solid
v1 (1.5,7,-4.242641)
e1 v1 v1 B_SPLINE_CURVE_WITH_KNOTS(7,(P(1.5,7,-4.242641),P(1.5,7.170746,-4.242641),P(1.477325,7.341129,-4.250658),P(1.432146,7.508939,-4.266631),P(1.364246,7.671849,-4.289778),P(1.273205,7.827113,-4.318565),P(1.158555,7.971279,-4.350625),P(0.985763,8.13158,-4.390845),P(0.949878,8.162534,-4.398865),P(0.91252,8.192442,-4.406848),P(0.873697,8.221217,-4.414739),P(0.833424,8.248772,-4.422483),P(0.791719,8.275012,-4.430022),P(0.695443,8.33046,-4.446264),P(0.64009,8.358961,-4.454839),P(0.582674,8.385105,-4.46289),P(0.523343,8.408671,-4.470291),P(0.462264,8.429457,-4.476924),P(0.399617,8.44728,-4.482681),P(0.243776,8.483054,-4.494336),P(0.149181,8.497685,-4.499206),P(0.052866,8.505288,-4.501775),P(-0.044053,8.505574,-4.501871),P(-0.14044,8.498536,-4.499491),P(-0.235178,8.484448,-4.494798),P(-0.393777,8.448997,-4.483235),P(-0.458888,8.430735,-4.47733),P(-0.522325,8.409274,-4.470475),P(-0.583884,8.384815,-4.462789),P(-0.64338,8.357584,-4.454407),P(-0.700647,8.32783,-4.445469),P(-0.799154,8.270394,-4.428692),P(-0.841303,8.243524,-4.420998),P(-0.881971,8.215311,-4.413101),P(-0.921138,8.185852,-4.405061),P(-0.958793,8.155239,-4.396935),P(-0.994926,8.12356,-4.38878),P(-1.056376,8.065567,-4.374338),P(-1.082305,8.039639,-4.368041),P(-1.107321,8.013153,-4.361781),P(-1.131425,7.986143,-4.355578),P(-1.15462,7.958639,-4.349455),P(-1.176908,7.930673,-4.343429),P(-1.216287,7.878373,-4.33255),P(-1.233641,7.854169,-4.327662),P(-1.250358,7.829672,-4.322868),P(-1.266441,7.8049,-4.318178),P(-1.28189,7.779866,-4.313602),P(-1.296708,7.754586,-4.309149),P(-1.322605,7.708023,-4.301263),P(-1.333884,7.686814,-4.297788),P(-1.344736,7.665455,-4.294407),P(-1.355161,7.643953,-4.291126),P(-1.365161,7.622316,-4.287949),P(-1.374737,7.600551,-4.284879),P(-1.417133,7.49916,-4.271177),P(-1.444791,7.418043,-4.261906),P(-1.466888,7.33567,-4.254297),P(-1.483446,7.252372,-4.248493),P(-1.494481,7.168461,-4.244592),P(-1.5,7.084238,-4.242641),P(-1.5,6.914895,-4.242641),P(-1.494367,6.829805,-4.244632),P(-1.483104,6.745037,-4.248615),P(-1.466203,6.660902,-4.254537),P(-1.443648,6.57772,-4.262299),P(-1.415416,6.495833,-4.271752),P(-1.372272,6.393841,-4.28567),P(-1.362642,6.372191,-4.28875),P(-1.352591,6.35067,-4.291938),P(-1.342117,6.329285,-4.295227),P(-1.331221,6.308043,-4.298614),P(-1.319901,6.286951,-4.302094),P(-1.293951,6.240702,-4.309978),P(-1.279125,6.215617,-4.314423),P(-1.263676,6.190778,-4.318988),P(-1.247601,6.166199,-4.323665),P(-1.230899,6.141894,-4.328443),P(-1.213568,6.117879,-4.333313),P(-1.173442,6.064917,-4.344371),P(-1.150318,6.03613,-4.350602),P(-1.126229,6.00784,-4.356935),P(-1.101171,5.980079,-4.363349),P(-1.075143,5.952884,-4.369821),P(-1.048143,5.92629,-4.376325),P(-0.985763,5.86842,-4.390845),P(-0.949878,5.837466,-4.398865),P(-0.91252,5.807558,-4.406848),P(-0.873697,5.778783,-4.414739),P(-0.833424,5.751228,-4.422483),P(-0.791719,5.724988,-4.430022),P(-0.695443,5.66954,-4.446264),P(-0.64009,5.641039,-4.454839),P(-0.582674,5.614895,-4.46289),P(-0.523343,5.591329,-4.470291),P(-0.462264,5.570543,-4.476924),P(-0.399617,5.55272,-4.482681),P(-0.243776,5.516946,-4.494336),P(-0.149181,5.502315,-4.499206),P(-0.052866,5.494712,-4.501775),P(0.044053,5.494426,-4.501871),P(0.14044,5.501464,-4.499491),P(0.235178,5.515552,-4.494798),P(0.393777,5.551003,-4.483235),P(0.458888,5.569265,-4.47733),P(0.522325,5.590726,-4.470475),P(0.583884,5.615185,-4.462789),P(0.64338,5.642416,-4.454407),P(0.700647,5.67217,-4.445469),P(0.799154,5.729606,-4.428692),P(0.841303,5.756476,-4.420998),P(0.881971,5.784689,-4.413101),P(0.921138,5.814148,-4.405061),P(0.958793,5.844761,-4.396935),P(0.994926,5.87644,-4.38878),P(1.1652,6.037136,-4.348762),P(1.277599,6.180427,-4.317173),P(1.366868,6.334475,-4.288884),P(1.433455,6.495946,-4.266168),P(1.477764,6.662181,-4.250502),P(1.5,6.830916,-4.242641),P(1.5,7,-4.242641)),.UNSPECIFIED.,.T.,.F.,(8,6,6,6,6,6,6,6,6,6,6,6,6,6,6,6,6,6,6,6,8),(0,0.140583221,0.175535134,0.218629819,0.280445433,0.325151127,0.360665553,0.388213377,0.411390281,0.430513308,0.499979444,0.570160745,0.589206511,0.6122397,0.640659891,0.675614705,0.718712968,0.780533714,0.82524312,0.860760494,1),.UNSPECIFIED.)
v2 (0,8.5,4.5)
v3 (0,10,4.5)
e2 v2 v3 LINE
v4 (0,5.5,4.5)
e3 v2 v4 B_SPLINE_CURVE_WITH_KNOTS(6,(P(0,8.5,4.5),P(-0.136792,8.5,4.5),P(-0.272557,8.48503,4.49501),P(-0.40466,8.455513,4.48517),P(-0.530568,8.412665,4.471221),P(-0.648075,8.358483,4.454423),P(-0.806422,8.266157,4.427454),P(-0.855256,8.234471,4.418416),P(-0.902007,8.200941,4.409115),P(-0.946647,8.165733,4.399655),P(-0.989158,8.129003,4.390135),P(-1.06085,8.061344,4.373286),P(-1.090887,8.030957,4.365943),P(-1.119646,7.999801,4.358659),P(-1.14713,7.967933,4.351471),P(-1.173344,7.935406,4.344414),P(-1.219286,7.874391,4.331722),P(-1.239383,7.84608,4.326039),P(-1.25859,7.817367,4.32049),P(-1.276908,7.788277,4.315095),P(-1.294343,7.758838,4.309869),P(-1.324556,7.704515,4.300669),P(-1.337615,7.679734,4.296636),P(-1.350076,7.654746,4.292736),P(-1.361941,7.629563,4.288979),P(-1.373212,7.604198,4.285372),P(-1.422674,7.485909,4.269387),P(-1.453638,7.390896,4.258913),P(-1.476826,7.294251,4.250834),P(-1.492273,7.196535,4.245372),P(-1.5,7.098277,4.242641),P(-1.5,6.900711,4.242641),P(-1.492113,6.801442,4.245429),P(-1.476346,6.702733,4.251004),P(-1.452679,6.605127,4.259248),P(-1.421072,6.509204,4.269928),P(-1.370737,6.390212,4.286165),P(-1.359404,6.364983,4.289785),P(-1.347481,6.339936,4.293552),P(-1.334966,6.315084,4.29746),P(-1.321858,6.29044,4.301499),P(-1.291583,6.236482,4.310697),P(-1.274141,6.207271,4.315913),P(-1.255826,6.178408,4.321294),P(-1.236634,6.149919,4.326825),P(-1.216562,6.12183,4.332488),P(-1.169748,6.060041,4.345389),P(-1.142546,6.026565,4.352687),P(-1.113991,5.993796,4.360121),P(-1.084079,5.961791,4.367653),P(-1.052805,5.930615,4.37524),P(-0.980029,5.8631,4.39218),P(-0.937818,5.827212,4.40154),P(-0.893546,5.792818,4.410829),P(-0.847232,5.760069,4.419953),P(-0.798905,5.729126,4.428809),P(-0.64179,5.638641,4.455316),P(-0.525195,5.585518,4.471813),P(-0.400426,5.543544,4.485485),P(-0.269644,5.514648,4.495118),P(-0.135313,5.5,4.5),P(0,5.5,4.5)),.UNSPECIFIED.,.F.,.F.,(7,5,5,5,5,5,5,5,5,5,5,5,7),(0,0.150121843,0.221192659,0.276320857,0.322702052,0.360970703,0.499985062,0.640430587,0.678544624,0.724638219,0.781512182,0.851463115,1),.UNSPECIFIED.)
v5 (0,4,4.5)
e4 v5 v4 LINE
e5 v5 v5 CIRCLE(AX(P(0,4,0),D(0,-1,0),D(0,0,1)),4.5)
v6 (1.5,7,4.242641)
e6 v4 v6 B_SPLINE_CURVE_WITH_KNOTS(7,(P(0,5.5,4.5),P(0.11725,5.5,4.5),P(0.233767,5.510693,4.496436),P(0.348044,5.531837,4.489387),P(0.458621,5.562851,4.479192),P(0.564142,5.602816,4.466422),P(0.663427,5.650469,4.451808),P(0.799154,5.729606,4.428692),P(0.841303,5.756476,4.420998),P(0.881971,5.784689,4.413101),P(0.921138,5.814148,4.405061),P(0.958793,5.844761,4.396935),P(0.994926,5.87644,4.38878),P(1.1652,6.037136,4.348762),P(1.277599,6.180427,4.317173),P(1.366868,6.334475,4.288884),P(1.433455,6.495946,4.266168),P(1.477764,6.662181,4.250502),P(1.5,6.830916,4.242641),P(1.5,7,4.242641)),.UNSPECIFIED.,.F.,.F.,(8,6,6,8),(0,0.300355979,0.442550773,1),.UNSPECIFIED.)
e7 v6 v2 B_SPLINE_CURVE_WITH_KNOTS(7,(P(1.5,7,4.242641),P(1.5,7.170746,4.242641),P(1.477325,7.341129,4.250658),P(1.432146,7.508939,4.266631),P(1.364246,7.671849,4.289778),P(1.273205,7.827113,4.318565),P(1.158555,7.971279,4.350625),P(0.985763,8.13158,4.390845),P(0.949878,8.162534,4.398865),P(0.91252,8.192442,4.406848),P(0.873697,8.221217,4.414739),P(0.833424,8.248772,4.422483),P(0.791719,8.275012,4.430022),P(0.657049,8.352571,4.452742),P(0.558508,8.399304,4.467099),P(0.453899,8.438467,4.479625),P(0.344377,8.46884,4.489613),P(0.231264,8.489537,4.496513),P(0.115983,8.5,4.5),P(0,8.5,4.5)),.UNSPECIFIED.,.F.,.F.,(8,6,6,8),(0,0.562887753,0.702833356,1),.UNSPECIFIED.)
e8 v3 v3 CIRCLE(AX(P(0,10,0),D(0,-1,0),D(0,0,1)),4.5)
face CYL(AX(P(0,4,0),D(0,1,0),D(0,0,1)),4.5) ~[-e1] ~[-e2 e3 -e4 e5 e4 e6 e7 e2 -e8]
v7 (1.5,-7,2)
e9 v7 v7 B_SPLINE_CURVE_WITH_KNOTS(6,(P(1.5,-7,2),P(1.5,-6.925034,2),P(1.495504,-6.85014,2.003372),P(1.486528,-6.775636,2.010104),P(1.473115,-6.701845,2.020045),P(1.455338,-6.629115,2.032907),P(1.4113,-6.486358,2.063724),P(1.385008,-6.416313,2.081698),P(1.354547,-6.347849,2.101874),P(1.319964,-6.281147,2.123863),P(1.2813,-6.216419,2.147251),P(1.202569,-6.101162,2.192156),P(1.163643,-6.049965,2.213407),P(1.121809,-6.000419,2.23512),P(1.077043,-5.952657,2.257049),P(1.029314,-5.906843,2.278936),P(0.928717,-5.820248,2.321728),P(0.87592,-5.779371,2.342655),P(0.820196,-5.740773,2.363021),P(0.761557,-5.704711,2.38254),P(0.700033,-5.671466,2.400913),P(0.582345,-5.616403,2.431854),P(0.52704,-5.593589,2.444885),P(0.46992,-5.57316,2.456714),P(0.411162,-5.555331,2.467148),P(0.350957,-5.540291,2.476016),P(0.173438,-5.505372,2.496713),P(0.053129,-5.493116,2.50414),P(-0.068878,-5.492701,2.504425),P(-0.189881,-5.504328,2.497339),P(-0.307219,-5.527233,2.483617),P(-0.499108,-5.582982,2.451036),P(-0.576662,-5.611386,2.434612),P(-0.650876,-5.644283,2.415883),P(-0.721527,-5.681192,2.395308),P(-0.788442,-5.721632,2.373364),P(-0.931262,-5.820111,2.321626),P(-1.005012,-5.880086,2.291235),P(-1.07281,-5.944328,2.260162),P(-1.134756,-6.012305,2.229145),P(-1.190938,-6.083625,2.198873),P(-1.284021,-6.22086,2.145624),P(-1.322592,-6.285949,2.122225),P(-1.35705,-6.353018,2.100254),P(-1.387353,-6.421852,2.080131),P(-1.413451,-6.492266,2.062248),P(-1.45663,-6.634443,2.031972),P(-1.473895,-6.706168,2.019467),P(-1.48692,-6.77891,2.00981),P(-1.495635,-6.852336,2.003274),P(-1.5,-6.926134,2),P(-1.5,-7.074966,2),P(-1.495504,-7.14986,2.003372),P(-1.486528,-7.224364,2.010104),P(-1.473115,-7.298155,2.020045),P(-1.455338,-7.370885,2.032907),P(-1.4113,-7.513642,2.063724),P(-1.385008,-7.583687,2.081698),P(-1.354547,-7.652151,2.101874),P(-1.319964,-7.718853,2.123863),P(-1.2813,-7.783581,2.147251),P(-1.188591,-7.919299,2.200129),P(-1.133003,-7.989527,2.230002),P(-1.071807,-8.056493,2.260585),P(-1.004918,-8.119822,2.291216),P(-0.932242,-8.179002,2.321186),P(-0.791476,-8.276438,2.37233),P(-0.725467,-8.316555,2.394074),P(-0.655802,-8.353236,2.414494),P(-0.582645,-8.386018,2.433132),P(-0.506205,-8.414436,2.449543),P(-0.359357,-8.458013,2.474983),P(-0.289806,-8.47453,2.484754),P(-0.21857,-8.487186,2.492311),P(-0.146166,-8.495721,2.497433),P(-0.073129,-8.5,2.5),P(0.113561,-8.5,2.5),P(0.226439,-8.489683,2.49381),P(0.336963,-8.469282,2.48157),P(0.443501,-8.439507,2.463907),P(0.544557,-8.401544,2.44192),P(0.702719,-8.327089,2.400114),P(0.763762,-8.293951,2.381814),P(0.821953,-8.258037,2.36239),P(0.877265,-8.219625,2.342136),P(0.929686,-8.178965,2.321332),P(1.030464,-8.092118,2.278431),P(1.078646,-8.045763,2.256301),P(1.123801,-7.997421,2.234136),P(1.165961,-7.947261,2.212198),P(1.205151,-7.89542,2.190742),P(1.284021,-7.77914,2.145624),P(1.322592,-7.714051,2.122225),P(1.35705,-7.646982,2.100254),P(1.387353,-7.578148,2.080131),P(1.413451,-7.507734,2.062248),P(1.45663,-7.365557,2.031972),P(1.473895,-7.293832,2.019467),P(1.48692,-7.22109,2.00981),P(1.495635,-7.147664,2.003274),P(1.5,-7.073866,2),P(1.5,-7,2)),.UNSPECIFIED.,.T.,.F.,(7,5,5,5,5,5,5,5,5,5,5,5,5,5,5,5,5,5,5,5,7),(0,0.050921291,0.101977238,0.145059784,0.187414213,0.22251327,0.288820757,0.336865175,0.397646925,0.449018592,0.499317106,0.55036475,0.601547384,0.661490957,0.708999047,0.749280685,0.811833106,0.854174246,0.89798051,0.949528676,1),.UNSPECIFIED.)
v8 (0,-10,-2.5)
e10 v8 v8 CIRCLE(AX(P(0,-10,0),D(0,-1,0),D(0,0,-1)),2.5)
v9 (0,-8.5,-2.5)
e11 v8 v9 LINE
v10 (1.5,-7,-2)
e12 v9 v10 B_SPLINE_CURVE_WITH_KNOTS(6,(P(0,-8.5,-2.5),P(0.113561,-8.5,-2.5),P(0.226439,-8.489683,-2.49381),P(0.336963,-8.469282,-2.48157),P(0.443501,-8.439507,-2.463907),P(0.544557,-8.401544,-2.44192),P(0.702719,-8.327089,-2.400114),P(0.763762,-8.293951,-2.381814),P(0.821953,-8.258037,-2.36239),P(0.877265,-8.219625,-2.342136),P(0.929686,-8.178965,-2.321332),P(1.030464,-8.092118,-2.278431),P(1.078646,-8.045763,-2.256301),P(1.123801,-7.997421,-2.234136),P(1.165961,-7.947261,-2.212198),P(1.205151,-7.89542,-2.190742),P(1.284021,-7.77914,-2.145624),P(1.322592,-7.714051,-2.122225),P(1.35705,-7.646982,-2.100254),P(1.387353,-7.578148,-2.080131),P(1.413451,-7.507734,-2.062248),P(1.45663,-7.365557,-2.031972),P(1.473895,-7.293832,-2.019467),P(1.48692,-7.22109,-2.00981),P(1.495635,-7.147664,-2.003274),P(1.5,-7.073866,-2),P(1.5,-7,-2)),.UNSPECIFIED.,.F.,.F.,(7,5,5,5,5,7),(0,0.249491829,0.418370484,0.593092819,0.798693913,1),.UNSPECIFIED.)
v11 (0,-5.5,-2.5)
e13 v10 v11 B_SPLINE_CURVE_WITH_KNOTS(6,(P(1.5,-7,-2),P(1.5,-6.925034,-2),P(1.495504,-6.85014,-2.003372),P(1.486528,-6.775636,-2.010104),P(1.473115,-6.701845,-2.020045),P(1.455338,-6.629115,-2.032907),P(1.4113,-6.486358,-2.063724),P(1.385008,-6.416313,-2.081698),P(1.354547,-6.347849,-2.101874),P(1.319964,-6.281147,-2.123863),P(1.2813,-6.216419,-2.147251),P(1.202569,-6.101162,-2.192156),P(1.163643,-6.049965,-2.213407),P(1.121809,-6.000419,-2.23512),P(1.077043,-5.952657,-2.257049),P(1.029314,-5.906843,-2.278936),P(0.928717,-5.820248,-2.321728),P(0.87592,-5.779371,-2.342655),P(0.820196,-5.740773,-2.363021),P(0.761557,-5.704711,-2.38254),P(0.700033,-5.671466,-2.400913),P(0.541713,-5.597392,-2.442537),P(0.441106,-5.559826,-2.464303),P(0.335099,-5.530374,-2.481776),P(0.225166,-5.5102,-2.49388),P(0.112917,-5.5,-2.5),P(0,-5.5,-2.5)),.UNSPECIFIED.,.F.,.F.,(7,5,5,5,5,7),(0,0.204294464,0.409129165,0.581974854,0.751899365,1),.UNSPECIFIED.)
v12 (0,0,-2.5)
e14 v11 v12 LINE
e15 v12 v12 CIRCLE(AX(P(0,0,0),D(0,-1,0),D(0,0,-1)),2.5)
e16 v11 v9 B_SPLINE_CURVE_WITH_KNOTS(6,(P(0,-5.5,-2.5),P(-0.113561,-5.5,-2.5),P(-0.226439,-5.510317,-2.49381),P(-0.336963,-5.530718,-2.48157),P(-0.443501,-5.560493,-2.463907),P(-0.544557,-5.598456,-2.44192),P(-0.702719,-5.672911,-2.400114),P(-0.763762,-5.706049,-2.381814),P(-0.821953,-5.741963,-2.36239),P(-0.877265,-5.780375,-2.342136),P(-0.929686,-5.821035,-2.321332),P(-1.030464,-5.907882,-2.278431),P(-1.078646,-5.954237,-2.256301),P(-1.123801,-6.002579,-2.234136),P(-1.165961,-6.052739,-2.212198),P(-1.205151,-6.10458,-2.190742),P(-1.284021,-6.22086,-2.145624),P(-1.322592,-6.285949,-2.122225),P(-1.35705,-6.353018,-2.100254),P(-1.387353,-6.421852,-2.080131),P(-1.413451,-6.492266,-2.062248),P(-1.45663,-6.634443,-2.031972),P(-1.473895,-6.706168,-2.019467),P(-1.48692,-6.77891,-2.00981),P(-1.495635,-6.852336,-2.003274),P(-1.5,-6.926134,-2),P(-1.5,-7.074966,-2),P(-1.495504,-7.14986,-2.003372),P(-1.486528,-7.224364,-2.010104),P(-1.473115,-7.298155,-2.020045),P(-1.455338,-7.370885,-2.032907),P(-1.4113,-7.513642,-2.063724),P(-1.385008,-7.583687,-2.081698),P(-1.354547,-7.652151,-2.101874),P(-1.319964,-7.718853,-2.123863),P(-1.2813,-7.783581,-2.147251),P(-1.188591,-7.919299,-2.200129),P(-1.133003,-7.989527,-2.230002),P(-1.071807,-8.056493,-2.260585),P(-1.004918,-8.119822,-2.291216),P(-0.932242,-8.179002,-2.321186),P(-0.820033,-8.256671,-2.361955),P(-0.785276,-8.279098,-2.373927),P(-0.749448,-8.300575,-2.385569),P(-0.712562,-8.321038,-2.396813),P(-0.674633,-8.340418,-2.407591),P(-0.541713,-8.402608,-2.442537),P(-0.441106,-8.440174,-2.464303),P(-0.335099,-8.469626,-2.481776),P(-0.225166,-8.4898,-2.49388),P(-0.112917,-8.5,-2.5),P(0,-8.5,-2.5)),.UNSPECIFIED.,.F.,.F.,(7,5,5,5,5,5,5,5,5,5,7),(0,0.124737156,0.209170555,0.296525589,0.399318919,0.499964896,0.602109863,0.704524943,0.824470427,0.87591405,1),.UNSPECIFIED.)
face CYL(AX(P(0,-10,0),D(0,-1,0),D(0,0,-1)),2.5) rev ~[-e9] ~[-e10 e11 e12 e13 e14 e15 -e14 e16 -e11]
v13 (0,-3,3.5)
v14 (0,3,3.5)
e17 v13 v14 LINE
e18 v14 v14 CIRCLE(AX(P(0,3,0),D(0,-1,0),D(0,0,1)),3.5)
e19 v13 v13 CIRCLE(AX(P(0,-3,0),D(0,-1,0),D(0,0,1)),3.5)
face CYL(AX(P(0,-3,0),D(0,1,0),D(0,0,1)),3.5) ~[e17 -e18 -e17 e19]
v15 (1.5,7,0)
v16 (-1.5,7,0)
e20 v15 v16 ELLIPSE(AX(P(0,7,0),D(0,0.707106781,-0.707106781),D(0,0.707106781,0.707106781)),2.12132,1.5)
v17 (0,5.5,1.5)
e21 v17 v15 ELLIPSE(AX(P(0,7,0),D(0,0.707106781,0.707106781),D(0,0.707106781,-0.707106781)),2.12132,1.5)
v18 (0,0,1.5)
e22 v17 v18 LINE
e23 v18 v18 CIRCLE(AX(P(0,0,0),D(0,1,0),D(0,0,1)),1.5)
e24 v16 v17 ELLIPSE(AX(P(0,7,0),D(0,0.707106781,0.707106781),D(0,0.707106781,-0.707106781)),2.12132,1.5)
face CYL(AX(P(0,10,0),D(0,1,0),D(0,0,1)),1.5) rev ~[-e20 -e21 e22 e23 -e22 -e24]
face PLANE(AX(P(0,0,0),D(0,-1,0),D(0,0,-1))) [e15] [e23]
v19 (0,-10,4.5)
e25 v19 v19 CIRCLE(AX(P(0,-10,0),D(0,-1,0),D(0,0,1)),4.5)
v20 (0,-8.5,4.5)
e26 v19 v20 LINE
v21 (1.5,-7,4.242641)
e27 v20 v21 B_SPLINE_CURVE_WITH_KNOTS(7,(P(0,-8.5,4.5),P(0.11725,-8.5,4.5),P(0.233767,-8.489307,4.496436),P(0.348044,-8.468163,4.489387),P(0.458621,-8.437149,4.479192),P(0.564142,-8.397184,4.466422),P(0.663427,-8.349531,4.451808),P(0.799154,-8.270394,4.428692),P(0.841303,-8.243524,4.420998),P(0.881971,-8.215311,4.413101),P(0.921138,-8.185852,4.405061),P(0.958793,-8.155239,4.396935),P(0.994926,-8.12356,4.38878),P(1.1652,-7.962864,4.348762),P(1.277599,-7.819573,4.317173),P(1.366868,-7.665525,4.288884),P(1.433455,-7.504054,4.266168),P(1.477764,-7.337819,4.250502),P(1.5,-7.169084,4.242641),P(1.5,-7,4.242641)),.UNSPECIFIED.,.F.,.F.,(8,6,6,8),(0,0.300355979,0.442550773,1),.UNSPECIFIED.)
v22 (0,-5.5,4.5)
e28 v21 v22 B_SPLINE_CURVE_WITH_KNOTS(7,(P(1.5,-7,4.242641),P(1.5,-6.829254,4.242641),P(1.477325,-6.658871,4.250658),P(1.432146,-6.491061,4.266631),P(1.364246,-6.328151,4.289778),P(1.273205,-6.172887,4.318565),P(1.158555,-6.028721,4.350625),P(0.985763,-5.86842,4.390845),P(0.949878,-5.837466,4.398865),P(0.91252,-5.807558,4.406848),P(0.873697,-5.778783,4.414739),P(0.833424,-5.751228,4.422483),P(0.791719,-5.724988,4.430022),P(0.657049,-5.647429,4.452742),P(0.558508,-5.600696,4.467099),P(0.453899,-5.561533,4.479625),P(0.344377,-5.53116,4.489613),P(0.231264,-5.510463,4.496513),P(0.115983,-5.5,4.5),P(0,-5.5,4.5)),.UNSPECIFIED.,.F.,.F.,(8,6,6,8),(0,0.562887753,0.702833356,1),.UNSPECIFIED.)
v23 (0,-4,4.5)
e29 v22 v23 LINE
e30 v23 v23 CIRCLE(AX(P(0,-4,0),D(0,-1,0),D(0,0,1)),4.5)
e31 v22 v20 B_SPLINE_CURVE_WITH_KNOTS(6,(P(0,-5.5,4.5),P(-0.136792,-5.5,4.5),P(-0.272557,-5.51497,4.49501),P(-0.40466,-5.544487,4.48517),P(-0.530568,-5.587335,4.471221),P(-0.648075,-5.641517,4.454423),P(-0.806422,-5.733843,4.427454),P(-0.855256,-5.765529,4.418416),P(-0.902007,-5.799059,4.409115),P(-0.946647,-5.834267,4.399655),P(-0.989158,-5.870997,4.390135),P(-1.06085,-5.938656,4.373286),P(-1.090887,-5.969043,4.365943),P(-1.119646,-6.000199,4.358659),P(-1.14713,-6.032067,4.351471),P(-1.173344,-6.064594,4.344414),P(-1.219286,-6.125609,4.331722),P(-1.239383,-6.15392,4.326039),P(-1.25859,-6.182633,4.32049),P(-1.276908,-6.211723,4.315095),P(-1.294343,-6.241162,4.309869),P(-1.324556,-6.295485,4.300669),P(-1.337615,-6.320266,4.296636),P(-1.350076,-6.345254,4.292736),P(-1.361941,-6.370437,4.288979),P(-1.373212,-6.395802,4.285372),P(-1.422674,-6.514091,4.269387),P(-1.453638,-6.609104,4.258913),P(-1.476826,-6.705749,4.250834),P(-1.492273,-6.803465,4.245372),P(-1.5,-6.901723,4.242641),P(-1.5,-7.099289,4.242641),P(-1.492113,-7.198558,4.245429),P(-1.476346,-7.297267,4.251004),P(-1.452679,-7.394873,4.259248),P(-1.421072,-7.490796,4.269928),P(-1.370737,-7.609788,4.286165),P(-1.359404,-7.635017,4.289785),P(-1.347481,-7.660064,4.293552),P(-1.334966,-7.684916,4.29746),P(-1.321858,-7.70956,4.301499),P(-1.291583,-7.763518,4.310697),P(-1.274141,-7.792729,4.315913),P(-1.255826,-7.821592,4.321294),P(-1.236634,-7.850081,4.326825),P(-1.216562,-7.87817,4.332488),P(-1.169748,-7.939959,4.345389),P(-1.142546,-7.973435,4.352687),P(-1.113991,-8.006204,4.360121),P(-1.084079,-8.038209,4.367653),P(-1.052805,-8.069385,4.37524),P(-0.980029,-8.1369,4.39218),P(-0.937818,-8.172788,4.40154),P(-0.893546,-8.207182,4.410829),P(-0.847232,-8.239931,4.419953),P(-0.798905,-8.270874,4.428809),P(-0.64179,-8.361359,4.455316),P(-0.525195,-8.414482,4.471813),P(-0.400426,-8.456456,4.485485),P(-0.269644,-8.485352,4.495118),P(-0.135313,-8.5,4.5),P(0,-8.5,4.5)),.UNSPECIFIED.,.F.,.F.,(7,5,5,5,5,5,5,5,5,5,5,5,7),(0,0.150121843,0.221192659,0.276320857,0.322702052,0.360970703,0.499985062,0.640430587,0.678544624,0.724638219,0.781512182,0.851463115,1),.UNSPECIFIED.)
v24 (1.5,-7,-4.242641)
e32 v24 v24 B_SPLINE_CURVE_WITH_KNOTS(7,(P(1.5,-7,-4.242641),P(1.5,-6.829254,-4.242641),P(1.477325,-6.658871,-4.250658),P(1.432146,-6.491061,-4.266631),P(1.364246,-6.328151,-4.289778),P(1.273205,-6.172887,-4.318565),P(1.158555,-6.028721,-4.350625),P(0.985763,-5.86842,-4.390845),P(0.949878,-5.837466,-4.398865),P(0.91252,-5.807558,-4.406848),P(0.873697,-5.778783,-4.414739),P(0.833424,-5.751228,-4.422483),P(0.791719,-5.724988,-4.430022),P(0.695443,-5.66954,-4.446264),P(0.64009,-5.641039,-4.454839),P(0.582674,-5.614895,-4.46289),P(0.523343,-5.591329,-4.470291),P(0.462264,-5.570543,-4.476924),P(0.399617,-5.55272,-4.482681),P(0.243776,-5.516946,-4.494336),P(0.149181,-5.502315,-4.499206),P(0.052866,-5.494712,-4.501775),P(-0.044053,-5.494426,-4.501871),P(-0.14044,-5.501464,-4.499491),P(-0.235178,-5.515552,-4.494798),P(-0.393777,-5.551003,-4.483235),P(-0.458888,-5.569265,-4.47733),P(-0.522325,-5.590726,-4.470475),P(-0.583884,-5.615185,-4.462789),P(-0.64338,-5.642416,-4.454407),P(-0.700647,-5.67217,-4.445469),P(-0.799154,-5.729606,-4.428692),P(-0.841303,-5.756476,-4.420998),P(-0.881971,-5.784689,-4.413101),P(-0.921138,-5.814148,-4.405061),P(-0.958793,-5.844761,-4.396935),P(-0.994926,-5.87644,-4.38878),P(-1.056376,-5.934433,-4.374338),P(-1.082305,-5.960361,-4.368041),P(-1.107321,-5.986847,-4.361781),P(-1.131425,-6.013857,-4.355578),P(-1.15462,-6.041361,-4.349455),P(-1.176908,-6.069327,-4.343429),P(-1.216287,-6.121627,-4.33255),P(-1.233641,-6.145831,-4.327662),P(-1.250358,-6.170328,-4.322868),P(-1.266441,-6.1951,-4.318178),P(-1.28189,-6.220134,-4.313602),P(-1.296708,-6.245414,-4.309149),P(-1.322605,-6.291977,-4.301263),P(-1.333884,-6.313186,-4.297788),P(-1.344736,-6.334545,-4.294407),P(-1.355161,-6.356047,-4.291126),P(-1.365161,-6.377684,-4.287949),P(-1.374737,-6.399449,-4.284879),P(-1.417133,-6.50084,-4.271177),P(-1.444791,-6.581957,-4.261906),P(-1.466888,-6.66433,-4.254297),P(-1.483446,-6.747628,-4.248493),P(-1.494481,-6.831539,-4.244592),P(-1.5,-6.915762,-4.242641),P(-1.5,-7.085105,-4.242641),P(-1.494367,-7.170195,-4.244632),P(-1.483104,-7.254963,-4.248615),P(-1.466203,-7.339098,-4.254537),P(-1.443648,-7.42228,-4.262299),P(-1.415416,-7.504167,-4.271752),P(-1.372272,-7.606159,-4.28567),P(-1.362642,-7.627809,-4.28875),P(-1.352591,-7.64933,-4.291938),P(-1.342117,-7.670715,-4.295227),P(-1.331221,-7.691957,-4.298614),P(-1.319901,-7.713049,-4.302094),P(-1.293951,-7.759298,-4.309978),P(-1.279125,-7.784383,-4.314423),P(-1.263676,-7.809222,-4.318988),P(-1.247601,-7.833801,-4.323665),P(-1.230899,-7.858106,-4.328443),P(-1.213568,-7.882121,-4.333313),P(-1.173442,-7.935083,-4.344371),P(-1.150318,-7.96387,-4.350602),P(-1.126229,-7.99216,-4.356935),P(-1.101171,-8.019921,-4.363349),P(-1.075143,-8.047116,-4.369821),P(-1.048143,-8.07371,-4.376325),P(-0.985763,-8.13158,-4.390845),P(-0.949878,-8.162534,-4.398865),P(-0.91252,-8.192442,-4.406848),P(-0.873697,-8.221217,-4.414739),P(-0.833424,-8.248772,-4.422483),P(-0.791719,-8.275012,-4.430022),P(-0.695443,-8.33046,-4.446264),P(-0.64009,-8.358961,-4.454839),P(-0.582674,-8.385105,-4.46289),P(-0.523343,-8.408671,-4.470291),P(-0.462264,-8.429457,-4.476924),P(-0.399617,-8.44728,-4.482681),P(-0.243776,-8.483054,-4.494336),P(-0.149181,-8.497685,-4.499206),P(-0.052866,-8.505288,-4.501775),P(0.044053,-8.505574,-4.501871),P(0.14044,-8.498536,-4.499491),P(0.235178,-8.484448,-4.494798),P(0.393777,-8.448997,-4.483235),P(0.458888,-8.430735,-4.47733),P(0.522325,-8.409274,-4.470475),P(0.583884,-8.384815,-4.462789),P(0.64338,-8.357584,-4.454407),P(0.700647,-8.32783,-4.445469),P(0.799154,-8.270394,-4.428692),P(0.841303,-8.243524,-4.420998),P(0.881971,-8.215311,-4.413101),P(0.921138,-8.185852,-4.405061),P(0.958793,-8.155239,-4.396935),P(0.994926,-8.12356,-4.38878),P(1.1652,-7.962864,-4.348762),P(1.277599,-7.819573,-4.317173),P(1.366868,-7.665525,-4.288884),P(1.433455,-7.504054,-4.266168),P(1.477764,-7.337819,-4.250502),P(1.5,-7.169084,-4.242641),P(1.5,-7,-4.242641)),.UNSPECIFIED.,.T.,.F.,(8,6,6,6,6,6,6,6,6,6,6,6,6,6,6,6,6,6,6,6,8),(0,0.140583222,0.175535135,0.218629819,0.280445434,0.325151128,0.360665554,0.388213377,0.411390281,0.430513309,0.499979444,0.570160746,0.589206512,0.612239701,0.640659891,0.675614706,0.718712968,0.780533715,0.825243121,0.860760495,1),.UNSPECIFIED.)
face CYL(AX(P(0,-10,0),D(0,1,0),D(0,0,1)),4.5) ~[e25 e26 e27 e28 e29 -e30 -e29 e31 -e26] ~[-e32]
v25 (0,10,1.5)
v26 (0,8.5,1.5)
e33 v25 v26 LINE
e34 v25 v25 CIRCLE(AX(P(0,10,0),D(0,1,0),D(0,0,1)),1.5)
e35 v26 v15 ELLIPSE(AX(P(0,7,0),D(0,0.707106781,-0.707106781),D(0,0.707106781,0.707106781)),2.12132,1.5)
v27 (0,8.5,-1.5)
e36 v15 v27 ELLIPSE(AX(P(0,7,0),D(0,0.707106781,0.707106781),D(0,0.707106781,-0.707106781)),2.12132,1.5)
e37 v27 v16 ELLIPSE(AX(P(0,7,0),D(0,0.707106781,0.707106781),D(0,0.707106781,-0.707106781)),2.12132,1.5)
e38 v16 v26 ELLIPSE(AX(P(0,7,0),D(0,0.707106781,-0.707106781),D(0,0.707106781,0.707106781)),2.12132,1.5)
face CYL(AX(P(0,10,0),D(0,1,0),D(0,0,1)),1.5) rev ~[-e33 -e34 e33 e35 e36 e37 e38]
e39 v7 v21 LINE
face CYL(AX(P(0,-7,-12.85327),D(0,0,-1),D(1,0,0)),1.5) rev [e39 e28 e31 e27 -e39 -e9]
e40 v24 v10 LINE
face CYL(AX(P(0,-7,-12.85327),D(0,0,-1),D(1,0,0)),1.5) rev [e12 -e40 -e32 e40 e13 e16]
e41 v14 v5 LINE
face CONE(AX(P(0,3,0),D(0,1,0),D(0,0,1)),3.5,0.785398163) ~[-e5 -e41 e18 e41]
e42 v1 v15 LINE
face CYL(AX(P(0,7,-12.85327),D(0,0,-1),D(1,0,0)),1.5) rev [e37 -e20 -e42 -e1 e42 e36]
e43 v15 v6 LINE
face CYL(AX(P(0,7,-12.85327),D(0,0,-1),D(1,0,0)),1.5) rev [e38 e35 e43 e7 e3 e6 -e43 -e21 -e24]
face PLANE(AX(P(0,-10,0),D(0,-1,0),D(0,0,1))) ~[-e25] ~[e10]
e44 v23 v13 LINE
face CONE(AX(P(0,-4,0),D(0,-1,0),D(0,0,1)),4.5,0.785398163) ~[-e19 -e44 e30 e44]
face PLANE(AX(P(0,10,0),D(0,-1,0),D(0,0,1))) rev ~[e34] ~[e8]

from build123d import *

# Parameters (mm, degrees)
SKETCH2_R               = 1.5
CUT_EXTRUDE1_DEPTH      = 21.988091862
SKETCH3_R               = 2.5
CUT_EXTRUDE2_DEPTH      = 10
CUT_EXTRUDE3_DEPTH      = 12.853269591
CUT_EXTRUDE3_DEPTH_BACK = 12.853269591
SKETCH4_R               = 1.5


with BuildPart() as part:
    # Sketch1 → Revolve1 (revolve)
    with BuildSketch(Plane.XY, mode=Mode.PRIVATE) as revolve1_sk:
        Polygon((3.5, -3), (3.5, 3), (4.5, 4), (4.5, 10), (0, 10), (0, -10), (4.5, -10), (4.5, -4), align=None)
    revolve(revolve1_sk.sketch.rotate(Axis((0, 10, 0), (0, -1, 0)), 90), axis=Axis((0, 10, 0), (0, -1, 0)))

    # Sketch2 → Cut-Extrude1 (cut, through all)
    with BuildSketch(Plane(origin=(0, 10, 0), x_dir=(1, 0, 0), z_dir=(0, 1, 0))):
        with Locations(Location((0, 0, 0), (0, 0, 270))):
            Circle(SKETCH2_R)
    extrude(amount=-CUT_EXTRUDE1_DEPTH, mode=Mode.SUBTRACT)

    # Sketch3 → Cut-Extrude2 (cut)
    with BuildSketch(Plane.XZ.offset(10)):
        with Locations(Location((0, 0, 0), (0, 0, 270))):
            Circle(SKETCH3_R)
    extrude(amount=-CUT_EXTRUDE2_DEPTH, mode=Mode.SUBTRACT)

    # Sketch4 → Cut-Extrude3 (cut, two sides: drawn at the far end of the back side and taken through both)
    with BuildSketch(Plane.XY.offset(-CUT_EXTRUDE3_DEPTH_BACK)):
        with Locations((0, 7)):
            Circle(SKETCH4_R)
        with Locations((0, -7)):
            Circle(SKETCH4_R)
    extrude(amount=CUT_EXTRUDE3_DEPTH + CUT_EXTRUDE3_DEPTH_BACK, mode=Mode.SUBTRACT)


solid = part.part
